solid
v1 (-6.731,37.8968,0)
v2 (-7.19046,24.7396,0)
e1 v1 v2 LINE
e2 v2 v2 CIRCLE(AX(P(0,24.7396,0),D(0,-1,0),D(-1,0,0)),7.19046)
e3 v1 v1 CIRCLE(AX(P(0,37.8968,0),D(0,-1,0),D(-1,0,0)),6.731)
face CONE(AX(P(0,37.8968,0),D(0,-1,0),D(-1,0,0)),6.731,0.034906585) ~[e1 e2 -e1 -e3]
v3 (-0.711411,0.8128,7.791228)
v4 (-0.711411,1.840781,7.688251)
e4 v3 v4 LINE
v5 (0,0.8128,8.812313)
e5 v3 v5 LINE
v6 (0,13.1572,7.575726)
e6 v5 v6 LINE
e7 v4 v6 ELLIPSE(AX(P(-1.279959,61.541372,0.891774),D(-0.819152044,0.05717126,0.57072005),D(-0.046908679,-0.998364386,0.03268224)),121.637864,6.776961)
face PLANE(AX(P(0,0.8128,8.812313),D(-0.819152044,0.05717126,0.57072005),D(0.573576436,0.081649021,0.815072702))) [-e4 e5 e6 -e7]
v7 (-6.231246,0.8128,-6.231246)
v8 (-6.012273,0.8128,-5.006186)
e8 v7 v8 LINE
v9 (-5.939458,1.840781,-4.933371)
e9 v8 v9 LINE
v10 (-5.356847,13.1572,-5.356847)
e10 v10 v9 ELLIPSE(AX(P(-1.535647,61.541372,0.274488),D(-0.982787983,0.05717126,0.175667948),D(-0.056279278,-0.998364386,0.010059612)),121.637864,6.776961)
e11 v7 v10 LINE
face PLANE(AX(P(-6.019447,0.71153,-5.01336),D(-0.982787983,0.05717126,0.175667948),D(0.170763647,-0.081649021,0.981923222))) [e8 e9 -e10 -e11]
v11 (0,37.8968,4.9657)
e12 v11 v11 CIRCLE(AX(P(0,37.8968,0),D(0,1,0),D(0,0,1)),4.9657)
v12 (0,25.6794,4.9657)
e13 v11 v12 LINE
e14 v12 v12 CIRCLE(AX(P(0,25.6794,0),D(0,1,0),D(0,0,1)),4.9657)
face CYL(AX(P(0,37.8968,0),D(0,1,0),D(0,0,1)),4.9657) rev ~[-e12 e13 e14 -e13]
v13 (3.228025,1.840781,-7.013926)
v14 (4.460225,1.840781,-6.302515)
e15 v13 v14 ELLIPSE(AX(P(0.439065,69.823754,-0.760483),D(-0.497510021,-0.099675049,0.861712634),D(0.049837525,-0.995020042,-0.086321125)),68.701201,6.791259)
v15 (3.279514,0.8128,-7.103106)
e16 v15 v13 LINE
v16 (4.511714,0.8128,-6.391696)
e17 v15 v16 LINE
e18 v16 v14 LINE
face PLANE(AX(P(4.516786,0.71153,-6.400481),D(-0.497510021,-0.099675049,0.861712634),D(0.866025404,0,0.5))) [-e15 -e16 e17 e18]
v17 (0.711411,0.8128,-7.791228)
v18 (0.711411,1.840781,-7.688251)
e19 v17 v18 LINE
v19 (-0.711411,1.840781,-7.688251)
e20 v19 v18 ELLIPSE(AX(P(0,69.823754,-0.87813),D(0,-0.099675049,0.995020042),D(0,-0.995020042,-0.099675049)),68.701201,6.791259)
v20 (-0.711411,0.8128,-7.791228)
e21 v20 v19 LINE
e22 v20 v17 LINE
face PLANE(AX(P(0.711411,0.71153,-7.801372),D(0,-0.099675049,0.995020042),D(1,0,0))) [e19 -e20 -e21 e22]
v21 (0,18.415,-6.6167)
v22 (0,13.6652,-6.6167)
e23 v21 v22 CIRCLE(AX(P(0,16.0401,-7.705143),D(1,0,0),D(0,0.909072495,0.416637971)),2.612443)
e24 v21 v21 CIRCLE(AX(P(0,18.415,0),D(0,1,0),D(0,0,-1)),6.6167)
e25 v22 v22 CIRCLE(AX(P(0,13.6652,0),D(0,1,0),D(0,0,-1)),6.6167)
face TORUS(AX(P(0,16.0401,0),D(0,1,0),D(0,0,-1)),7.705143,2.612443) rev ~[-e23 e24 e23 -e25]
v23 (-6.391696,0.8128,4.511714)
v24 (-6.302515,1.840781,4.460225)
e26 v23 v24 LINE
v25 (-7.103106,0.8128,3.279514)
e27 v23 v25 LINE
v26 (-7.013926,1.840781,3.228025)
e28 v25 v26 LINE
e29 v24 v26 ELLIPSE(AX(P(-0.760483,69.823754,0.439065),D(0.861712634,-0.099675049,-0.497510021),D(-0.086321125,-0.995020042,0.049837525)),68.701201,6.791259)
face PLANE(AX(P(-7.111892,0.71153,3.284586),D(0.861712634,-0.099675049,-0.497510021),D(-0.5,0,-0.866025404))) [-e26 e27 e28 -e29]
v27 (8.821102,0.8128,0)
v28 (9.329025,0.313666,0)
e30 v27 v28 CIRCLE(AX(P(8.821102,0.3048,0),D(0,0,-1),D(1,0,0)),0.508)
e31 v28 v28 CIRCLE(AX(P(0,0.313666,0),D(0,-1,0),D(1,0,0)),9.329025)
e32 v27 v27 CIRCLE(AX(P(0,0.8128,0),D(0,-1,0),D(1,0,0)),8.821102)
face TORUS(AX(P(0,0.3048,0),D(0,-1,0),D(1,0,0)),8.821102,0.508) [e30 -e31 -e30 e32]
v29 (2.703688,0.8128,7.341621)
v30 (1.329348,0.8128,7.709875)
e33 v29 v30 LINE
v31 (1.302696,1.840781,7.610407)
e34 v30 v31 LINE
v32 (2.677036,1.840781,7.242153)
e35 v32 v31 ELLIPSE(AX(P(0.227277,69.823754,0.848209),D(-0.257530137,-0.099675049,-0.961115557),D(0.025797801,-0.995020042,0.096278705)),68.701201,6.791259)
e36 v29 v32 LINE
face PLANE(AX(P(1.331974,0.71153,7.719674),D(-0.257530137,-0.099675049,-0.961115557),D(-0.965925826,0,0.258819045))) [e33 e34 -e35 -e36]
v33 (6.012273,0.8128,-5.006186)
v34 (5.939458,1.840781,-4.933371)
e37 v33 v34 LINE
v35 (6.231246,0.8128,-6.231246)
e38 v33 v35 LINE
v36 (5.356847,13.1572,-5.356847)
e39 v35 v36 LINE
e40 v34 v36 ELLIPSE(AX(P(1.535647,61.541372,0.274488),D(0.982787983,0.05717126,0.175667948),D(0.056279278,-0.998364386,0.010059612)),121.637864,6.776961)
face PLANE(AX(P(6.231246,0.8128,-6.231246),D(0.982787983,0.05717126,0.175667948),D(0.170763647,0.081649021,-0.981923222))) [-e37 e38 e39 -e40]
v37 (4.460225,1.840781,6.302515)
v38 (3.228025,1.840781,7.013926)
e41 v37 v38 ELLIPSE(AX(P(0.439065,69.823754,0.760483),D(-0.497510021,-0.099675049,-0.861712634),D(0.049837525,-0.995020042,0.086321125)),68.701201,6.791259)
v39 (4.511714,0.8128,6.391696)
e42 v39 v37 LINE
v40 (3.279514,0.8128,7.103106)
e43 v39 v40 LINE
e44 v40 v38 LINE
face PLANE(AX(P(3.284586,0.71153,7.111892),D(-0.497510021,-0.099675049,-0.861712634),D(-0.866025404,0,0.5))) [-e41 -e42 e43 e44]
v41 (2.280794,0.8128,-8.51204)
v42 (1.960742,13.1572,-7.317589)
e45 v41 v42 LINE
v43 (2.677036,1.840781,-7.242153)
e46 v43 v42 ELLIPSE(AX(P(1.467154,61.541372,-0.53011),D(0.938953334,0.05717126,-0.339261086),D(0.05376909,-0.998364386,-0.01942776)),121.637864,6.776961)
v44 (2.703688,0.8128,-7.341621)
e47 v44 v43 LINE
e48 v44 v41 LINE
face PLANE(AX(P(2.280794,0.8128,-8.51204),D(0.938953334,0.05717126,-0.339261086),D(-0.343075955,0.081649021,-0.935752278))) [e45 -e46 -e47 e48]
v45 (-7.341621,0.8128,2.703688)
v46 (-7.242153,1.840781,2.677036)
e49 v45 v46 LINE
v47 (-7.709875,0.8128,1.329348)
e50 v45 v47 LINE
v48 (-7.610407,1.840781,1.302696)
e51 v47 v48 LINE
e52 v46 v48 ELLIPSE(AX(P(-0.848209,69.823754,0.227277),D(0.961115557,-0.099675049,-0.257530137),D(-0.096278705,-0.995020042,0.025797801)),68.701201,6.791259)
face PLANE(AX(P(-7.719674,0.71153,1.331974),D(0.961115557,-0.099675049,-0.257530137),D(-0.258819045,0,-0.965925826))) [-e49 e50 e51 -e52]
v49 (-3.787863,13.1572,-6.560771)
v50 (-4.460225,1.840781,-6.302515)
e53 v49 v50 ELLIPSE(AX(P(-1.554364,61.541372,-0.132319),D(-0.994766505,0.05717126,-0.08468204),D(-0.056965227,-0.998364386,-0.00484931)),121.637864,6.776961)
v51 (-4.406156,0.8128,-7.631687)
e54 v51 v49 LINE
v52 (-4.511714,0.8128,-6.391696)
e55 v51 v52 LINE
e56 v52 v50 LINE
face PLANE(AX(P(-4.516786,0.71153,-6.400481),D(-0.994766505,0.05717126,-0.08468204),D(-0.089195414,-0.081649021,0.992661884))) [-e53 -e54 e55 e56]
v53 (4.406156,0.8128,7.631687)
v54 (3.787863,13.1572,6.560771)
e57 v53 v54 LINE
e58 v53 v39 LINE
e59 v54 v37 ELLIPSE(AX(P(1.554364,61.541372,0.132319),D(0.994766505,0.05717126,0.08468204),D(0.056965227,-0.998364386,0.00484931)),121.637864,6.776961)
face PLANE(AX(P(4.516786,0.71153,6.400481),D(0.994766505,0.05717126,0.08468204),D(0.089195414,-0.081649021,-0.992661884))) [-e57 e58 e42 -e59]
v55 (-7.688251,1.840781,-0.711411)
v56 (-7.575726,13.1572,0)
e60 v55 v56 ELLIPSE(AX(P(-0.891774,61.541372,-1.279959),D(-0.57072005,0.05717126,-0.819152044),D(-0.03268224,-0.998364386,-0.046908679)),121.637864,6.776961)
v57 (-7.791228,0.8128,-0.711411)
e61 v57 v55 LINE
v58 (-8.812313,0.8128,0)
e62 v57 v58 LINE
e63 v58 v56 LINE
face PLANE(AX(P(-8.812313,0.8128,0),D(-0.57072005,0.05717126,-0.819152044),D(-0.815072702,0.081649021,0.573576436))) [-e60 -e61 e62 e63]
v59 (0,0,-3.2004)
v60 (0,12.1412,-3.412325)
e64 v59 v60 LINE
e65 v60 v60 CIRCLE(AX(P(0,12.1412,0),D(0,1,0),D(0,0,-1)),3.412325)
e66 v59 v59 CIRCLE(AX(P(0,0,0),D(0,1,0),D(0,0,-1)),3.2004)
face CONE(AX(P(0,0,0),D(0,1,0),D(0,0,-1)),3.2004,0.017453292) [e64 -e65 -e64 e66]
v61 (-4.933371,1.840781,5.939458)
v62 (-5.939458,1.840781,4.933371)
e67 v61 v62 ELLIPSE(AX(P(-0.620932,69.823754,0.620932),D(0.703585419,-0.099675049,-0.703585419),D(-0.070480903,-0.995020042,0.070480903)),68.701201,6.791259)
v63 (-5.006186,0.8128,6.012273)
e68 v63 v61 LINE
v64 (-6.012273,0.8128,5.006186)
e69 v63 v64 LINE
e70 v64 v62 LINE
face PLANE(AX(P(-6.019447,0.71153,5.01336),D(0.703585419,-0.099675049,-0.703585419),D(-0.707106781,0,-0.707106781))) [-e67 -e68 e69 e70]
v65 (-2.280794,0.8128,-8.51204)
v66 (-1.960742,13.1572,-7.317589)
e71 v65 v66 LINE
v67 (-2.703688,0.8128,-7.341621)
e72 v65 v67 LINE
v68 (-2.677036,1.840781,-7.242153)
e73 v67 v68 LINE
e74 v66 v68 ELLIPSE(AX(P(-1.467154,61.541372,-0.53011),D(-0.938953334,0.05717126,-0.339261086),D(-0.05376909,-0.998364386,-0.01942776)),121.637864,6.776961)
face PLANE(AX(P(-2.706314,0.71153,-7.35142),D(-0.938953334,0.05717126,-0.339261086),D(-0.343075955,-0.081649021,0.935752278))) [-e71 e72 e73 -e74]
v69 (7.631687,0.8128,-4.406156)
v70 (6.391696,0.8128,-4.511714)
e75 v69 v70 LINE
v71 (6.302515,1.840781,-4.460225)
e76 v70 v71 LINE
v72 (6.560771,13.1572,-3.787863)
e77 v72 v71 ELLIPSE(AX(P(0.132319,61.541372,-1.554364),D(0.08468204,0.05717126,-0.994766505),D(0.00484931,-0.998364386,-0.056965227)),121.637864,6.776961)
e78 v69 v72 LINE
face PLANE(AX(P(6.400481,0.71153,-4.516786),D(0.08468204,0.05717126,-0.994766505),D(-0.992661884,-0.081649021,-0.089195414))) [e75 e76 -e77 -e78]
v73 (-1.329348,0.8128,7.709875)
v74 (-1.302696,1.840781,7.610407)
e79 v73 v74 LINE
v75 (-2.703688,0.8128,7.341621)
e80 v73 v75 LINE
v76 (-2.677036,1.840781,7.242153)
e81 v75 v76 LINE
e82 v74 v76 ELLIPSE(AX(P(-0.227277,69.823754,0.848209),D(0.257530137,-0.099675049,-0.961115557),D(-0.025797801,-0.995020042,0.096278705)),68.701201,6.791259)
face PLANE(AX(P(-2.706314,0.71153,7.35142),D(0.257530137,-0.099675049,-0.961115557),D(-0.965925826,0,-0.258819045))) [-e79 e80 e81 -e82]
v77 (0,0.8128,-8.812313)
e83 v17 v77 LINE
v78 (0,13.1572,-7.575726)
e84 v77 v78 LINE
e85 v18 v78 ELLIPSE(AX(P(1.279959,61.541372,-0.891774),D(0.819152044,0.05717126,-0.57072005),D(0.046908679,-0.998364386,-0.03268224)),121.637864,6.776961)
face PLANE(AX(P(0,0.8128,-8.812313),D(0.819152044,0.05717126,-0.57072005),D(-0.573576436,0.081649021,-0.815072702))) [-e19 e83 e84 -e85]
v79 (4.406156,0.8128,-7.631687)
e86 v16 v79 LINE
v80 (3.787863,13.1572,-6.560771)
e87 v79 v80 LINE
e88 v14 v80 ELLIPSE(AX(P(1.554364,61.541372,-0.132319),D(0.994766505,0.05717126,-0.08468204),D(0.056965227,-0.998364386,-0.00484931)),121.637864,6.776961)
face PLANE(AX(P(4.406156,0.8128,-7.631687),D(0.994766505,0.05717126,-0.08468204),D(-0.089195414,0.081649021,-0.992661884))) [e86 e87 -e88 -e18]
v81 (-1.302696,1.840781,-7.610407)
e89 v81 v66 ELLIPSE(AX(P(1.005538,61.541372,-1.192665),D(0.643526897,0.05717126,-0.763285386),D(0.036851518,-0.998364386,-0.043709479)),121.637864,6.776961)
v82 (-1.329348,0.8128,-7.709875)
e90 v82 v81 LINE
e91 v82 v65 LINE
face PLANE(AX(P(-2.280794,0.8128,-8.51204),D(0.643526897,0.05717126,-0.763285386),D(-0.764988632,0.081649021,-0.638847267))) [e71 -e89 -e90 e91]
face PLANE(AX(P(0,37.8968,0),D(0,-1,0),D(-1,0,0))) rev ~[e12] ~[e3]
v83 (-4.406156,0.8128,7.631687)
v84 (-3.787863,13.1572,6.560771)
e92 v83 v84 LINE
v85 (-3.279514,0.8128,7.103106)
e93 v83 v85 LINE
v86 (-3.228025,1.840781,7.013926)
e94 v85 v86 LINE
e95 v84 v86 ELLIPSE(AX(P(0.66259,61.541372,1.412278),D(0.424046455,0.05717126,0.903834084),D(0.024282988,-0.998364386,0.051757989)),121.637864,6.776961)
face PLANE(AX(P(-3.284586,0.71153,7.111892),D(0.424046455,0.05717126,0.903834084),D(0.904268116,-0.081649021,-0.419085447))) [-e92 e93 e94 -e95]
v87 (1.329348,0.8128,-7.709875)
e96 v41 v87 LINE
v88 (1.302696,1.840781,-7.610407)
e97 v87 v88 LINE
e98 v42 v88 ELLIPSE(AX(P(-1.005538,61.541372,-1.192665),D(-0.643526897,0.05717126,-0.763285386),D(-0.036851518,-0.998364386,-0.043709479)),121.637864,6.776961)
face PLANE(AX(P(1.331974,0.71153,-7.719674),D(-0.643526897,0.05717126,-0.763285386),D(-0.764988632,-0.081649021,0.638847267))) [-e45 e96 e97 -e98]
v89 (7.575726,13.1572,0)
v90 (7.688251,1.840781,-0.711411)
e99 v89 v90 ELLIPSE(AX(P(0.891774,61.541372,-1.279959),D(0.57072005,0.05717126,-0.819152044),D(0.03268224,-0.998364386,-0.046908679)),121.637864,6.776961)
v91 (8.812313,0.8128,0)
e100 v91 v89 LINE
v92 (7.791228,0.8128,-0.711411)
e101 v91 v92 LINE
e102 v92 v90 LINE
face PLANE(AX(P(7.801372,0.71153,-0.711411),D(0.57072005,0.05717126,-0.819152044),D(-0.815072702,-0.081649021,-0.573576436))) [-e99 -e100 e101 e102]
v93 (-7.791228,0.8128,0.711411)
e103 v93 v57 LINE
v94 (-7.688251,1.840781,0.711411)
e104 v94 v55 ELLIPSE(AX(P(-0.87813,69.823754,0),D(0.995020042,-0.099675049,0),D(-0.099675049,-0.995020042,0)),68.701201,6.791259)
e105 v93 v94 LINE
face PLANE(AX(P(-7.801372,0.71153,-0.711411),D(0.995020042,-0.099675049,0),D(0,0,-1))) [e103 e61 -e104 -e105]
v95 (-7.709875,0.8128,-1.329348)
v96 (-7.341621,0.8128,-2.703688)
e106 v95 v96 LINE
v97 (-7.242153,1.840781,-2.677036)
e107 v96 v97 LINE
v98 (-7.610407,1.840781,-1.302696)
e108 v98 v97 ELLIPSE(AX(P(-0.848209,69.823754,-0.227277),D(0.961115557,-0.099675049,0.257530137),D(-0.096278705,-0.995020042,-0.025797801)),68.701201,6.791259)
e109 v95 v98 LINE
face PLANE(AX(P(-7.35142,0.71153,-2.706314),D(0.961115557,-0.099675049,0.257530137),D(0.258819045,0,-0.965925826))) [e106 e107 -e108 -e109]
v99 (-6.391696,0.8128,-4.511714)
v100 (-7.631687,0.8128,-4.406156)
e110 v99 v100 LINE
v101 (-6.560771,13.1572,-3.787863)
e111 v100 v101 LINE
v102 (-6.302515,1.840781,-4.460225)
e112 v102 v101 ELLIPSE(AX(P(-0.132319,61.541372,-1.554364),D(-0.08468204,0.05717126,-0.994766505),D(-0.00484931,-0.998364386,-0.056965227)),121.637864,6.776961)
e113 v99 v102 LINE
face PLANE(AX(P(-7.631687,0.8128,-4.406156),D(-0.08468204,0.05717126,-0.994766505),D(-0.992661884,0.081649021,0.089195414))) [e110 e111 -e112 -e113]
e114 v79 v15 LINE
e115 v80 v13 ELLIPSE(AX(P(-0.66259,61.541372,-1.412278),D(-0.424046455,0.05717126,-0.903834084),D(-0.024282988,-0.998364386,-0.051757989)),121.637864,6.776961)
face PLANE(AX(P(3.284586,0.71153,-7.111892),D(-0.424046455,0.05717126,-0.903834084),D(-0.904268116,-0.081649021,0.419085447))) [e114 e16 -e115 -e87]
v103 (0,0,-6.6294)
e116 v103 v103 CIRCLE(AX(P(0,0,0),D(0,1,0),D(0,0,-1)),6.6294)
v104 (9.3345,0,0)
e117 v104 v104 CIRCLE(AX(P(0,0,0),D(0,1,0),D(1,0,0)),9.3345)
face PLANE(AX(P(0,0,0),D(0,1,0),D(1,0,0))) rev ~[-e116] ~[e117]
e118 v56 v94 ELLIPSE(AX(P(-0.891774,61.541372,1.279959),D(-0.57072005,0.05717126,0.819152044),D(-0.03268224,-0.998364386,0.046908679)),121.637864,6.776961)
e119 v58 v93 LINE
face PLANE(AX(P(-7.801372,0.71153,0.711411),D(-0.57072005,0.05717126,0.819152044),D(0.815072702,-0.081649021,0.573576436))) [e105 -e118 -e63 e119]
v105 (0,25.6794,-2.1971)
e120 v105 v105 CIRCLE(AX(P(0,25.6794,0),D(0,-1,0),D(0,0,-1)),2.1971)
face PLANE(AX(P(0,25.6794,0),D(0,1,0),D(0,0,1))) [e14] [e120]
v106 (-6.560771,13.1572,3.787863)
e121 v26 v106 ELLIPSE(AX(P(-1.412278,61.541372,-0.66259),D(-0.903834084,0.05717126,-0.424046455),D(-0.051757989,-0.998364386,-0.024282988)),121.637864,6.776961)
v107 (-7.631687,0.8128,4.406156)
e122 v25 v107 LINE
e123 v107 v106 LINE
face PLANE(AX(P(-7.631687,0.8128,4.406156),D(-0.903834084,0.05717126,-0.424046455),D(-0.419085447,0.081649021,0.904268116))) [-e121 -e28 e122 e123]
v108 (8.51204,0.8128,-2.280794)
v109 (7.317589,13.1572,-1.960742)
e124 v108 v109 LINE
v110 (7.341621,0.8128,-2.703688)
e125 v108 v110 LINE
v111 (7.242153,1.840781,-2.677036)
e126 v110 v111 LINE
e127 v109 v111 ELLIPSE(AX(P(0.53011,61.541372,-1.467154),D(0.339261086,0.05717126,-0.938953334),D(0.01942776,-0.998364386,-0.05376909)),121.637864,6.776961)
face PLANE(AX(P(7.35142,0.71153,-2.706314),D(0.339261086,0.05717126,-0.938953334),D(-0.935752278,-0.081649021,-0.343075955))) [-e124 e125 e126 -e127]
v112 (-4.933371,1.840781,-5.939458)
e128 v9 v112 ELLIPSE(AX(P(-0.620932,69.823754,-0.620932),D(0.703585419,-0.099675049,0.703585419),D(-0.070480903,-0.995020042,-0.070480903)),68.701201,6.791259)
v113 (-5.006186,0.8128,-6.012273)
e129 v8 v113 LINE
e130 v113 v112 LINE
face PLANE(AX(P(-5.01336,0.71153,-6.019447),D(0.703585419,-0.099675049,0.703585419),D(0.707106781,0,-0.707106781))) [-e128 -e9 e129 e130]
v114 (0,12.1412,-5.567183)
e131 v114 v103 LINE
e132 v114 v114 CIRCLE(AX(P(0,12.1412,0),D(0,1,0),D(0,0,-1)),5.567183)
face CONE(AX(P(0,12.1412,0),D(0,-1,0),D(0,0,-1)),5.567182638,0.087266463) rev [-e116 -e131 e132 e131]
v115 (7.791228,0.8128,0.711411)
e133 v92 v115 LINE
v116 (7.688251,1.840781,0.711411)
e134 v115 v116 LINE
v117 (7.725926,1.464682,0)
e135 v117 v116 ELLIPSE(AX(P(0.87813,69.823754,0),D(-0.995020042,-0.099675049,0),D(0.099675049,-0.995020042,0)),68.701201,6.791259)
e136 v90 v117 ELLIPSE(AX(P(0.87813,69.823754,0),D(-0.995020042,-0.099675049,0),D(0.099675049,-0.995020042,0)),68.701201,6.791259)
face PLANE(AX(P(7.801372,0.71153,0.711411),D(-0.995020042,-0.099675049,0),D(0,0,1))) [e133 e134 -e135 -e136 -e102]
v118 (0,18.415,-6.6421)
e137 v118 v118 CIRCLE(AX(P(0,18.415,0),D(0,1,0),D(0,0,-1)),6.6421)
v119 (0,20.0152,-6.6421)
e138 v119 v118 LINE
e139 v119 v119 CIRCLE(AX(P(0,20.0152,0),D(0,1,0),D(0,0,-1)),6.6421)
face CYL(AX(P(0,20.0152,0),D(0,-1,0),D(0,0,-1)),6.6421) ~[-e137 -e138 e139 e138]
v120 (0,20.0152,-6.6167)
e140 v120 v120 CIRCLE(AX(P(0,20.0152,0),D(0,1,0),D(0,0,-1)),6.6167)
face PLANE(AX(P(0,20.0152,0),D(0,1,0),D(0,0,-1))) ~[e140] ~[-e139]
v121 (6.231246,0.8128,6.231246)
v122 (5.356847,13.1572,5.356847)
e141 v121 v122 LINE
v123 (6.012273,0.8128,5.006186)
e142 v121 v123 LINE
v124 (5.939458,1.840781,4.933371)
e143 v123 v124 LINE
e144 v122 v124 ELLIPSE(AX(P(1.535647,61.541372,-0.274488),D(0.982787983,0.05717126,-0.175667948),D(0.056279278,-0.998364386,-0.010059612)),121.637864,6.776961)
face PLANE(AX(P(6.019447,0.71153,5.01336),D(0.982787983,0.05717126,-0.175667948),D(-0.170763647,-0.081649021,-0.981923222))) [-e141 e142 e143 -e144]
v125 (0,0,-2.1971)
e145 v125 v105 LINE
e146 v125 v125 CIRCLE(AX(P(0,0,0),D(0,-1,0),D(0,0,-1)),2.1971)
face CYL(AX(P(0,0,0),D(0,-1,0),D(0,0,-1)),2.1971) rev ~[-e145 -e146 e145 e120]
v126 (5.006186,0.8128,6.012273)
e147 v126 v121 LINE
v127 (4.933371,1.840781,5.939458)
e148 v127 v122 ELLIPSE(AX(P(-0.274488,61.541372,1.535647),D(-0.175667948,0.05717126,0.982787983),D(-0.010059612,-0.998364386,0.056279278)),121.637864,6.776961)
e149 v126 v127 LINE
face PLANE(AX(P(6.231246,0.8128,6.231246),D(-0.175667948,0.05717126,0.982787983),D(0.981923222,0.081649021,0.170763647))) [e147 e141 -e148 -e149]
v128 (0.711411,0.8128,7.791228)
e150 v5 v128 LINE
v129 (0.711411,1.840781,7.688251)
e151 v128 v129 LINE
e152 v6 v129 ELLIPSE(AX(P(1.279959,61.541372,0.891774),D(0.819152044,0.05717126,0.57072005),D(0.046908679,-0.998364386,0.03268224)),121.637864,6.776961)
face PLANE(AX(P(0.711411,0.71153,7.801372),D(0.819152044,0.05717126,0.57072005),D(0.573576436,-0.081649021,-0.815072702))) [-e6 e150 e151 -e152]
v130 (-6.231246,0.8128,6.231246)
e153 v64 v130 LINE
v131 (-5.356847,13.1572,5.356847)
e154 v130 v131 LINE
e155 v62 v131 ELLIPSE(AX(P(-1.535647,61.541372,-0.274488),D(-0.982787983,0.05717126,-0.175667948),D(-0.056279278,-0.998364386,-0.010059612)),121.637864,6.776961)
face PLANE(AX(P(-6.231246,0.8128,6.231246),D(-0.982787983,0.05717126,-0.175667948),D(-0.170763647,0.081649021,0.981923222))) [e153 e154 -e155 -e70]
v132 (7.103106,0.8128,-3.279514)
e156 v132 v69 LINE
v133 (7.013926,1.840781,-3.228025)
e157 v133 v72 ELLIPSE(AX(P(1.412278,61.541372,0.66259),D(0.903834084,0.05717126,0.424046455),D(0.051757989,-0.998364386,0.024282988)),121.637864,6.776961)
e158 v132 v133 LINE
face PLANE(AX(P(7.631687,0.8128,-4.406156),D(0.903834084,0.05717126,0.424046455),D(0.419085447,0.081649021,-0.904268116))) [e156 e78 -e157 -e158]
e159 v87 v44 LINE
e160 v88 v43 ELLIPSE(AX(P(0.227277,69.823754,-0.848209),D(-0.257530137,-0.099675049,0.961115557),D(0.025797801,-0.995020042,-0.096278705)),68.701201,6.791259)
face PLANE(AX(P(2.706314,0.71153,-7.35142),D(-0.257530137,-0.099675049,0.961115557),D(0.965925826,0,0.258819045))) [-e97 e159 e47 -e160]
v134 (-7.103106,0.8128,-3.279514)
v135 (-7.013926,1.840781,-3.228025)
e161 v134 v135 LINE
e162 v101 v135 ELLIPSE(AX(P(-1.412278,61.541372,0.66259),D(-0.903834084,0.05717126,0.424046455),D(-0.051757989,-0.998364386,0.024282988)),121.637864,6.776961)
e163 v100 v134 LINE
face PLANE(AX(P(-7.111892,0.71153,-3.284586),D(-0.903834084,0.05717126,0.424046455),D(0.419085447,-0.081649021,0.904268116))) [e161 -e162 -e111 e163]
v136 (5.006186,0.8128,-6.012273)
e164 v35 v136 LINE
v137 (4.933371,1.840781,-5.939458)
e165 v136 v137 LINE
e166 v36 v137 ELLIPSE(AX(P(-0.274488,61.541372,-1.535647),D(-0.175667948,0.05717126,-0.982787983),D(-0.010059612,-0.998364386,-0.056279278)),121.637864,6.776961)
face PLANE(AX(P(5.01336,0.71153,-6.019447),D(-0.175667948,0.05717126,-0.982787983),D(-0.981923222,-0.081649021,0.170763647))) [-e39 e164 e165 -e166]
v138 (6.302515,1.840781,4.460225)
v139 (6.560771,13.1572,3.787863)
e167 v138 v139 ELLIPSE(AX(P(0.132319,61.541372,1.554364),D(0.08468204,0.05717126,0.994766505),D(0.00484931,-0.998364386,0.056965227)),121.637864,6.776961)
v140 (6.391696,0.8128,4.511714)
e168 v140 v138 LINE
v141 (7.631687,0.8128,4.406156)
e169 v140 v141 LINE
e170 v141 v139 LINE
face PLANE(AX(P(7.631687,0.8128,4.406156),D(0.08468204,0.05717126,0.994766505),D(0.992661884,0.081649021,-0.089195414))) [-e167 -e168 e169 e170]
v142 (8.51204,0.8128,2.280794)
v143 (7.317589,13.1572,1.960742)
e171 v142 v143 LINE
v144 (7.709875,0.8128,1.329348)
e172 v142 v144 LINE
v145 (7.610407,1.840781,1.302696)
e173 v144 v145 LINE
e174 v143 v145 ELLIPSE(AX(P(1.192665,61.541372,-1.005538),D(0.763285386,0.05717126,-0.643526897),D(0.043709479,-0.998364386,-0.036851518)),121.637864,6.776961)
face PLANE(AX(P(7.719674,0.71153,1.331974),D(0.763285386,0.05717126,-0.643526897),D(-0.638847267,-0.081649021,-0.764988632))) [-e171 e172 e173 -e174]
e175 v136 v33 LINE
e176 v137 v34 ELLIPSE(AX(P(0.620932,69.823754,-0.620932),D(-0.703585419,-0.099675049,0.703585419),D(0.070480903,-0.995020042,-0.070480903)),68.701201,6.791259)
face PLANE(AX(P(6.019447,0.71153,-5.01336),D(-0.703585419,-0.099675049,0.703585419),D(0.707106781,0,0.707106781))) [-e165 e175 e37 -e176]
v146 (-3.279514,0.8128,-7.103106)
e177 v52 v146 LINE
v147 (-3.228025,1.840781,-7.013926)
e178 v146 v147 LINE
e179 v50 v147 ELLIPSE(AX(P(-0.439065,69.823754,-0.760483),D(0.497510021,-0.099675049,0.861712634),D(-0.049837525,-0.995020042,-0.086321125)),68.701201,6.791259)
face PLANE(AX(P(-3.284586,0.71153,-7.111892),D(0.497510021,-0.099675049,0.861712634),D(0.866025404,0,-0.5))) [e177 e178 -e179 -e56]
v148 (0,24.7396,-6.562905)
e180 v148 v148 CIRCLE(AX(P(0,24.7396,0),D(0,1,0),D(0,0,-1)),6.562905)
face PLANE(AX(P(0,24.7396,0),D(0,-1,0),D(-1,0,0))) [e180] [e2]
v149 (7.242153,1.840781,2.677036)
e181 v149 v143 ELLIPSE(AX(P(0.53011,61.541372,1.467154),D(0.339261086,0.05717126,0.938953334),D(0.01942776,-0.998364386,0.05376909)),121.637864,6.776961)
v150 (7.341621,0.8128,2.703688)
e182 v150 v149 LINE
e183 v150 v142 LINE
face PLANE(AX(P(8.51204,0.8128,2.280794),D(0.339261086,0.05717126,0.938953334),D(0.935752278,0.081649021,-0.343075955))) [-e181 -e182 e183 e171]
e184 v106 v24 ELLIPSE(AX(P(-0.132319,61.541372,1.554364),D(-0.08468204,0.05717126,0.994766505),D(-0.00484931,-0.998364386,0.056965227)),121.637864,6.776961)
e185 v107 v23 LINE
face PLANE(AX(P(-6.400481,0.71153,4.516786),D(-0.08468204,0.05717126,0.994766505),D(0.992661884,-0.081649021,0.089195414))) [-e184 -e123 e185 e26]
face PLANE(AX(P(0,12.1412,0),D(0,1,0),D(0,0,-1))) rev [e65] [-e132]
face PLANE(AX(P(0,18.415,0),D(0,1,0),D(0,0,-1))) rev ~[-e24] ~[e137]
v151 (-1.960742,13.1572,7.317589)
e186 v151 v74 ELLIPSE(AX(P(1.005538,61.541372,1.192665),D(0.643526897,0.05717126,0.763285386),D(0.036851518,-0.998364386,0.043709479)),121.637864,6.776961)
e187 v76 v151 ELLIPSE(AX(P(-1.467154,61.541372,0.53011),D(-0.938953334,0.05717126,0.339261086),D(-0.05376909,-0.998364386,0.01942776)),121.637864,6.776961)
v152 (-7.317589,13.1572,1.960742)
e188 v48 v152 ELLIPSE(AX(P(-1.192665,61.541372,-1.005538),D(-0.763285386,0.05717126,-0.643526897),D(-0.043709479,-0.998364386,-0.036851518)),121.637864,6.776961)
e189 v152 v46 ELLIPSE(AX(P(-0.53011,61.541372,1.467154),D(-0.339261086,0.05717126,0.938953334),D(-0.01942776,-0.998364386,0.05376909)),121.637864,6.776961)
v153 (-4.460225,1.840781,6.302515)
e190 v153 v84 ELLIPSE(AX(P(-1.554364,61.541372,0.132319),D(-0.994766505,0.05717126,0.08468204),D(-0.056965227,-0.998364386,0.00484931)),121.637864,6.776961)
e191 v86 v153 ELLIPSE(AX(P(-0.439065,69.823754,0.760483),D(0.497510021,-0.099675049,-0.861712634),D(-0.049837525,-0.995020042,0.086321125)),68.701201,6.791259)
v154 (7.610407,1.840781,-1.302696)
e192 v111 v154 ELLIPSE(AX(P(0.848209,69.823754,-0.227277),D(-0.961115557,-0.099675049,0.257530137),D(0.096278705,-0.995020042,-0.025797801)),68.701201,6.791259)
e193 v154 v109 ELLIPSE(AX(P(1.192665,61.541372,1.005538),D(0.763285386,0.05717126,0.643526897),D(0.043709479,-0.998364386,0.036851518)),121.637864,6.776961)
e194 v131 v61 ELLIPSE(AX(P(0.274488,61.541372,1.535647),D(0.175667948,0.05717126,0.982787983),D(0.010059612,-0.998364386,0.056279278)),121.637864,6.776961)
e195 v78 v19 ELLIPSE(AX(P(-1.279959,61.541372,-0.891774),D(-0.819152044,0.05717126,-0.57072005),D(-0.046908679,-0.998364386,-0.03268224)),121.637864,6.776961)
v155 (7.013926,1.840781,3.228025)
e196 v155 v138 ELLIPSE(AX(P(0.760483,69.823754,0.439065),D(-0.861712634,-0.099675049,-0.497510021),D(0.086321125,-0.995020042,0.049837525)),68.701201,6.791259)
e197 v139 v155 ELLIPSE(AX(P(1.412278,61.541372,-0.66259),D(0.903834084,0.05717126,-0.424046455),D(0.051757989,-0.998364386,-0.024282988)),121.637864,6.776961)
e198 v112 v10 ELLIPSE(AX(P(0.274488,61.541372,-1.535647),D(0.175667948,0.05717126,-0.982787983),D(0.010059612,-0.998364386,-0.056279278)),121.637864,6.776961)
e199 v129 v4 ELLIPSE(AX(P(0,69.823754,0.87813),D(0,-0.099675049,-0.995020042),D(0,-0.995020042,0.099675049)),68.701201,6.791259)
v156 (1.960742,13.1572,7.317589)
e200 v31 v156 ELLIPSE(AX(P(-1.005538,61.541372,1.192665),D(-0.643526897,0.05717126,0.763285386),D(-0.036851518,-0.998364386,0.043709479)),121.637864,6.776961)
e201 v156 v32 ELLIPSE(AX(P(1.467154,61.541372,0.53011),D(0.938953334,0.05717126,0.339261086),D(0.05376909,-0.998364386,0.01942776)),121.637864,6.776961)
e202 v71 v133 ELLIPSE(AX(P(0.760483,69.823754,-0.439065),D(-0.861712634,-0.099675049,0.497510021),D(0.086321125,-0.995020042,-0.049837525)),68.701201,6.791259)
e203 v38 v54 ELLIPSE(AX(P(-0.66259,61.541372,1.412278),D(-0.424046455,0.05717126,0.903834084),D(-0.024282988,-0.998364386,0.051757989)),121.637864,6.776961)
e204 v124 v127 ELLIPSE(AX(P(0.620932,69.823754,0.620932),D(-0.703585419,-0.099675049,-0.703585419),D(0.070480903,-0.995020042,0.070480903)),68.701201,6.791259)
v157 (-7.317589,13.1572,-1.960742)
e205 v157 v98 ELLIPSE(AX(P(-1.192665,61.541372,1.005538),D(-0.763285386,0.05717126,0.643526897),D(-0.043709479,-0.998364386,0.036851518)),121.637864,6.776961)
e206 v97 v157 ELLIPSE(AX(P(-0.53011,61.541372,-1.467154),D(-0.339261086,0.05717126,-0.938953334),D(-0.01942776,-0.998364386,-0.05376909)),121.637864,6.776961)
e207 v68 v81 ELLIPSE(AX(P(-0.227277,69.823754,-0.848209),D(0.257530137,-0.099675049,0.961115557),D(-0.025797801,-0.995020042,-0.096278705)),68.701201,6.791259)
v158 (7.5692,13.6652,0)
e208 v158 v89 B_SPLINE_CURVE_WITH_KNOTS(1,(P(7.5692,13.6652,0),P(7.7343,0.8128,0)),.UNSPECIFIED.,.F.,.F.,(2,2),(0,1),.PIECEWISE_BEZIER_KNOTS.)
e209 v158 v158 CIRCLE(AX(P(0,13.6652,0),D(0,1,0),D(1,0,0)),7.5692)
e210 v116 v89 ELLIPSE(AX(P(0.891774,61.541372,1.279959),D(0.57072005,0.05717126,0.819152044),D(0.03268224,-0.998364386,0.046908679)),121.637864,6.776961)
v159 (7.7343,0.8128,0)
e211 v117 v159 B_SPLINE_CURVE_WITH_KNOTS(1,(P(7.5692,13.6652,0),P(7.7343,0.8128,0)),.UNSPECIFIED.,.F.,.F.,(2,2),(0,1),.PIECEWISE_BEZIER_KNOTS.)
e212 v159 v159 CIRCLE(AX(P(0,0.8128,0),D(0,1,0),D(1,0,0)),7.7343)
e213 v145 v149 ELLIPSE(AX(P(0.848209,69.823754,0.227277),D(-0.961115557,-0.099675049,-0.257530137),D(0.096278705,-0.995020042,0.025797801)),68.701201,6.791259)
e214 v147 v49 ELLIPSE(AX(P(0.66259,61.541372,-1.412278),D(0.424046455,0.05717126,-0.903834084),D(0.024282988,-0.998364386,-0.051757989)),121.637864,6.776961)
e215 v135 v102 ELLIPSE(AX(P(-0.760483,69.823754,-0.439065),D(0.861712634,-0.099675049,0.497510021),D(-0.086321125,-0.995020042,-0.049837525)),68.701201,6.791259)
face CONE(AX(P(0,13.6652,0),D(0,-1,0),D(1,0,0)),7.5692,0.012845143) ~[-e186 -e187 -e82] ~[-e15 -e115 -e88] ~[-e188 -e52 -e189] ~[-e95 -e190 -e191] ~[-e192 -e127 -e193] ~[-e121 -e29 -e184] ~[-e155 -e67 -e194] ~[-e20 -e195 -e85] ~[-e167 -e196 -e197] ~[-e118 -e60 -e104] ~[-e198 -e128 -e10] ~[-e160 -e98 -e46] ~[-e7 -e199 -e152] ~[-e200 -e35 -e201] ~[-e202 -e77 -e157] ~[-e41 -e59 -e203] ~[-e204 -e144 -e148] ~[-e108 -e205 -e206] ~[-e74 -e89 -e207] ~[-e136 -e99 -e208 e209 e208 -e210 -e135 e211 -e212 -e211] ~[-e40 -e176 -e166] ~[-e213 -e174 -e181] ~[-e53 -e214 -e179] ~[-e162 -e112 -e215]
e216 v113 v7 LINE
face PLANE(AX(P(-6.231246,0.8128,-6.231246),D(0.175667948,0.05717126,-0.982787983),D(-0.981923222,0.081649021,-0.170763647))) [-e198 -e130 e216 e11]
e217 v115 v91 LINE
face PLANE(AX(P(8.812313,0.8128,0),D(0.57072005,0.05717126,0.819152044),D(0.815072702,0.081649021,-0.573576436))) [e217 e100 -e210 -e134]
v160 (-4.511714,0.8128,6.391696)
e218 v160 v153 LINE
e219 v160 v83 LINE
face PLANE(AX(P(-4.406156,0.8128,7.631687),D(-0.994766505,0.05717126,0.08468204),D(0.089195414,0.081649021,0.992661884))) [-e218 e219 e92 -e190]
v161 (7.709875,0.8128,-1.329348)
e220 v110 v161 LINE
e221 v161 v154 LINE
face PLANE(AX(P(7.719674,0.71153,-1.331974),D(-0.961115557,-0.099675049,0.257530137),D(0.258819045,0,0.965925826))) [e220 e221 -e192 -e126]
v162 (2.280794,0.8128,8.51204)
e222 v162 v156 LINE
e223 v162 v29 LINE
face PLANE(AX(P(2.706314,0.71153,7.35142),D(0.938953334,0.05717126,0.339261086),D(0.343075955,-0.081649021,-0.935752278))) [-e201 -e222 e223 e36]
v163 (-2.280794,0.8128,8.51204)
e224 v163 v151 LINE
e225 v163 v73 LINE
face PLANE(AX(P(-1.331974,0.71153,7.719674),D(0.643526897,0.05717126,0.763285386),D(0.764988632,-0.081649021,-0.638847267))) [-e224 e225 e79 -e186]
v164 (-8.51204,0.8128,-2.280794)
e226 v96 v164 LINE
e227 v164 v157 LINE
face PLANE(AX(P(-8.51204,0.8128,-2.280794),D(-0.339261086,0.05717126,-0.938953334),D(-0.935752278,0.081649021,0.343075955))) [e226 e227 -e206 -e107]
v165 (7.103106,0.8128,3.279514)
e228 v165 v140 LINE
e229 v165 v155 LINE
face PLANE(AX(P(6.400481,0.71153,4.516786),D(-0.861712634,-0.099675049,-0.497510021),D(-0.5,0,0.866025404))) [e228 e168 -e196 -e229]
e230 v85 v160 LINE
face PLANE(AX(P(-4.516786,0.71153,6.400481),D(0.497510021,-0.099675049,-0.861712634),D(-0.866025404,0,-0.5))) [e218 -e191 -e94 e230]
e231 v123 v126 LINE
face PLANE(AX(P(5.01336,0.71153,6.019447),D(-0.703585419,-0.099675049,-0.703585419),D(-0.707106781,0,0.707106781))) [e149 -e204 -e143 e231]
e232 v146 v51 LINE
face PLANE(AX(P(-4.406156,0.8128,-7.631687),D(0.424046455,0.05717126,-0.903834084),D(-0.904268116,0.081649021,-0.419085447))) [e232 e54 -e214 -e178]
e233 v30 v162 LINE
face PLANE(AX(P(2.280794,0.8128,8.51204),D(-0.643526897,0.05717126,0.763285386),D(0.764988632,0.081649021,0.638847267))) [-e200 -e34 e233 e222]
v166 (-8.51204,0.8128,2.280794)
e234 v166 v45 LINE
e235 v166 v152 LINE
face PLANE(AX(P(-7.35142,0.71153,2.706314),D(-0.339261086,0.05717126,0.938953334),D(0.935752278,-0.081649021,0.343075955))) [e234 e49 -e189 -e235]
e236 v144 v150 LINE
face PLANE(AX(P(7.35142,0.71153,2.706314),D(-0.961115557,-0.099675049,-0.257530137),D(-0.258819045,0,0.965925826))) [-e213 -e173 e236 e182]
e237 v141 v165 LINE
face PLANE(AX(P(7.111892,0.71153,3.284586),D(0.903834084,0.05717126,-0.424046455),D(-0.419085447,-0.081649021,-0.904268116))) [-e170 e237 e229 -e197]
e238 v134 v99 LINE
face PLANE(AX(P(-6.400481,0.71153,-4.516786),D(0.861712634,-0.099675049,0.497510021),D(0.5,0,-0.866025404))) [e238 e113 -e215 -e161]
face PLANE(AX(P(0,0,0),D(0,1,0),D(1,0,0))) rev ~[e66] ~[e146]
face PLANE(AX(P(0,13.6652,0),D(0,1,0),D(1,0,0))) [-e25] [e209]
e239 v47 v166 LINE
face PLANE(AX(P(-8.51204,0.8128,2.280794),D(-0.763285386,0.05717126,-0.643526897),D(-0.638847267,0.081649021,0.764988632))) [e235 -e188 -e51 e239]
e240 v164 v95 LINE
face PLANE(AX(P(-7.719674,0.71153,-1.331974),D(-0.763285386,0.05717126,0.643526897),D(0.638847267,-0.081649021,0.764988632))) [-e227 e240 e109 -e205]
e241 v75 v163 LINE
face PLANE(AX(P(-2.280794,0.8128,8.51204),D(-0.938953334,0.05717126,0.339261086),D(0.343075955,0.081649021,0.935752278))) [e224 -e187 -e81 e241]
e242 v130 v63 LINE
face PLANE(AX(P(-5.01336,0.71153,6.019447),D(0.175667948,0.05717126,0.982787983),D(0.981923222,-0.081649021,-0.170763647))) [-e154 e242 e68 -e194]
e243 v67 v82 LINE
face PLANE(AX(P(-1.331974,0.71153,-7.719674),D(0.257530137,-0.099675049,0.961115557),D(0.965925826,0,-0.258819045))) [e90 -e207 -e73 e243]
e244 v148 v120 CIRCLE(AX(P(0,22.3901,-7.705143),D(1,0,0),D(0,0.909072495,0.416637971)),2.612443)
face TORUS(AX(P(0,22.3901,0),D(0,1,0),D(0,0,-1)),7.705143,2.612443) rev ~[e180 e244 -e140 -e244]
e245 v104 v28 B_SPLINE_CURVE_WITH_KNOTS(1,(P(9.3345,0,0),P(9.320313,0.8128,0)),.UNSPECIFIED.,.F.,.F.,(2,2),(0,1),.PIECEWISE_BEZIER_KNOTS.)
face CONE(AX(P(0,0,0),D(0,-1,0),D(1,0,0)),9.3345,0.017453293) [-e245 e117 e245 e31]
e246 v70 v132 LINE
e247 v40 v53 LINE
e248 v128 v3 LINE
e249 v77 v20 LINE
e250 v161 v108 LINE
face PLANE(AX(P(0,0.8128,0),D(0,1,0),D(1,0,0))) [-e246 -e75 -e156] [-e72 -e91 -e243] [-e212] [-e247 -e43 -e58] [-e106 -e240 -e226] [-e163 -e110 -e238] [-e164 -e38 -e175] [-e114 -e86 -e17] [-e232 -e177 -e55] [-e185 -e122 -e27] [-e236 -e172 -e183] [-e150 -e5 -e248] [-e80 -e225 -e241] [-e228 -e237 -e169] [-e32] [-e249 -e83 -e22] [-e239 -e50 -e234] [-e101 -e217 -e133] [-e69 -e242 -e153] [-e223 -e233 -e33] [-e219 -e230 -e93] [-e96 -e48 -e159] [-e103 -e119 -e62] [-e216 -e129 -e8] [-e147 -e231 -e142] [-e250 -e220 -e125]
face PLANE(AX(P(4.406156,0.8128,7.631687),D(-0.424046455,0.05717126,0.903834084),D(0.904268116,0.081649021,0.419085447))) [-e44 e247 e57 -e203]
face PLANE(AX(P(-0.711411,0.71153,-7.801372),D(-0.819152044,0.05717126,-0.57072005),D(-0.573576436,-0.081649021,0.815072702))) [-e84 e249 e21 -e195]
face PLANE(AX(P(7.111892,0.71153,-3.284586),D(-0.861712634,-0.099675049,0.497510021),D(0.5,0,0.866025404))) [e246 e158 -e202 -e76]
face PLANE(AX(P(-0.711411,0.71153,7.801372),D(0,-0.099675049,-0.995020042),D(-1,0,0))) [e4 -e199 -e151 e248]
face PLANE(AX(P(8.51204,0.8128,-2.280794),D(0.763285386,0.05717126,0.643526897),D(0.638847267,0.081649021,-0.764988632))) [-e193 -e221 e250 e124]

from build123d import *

# Parameters (mm, degrees)
SKETCH1_R           = 9.3345
BOSS_EXTRUDE1_DEPTH = 0.8128
BOSS_EXTRUDE1_TAPER = 1
SKETCH2_R           = 7.5692
SKETCH3_R           = 7.7343
CIRPATTERN3_COUNT   = 24
FILLET1_R           = 0.508
SKETCH20_R          = 6.731
BOSS_EXTRUDE2_DEPTH = 13.1572
BOSS_EXTRUDE2_DRAFT = -2
SKETCH21_R          = 4.9657
CUT_EXTRUDE1_DEPTH  = 12.2174
SKETCH22_R          = 2.1971
CUT_EXTRUDE2_DEPTH  = 38.8968


with BuildPart() as part:
    # Sketch1 → Boss-Extrude1 (new body)
    with BuildSketch(Plane(origin=(0, 0, 0), x_dir=(1, 0, 0), z_dir=(0, 1, 0))):
        Circle(SKETCH1_R)
    extrude(amount=BOSS_EXTRUDE1_DEPTH, taper=BOSS_EXTRUDE1_TAPER)

    # Sketch2 → Loft1 section 0
    with BuildSketch(Plane(origin=(0, 13.6652, 0), x_dir=(1, 0, 0), z_dir=(0, 1, 0))):
        Circle(SKETCH2_R)
    # Sketch3 → Loft1 section 1
    with BuildSketch(Plane(origin=(0, 0.8128, 0), x_dir=(1, 0, 0), z_dir=(0, 1, 0))):
        Circle(SKETCH3_R)
    loft()

    # Sweep1: sweep along a path in Sketch4
    with BuildLine(Plane(origin=(0, 0, 0), x_dir=(0, 0, -1), z_dir=(1, 0, 0))) as sweep1_path:
        Line((-8.812312523, 0.8128), (-7.575725692, 13.1572))
    # Sketch14 → Sweep1 (sweep)
    with BuildSketch(Plane(origin=(0, 0.8128, 8.812312523), x_dir=(1, 0, 0), z_dir=(0, 0.995020042, -0.09967505))):
        Polygon((0, 0), (-0.711410859, 1.016), (0.711410859, 1.016), align=None)
    sweep1 = sweep(path=sweep1_path.line)

    # CirPattern3: Sweep1 ×24 about axis
    cirpattern3_axis = Axis((0, 0, 0), (0, 1, 0))
    for i in range(1, CIRPATTERN3_COUNT):
        add(sweep1.rotate(cirpattern3_axis, i * 360 / CIRPATTERN3_COUNT))

    # Sketch7 → Revolve1 (revolve)
    with BuildSketch(Plane(origin=(0, 0, 0), x_dir=(0, 0, -1), z_dir=(1, 0, 0))):
        with BuildLine():
            Line((6.6421, 18.415), (6.6167, 18.415))
            ThreePointArc((6.6167, 18.415), (5.0927, 16.0401), (6.6167, 13.6652))
            Line((6.6167, 13.6652), (0, 13.6652))
            Line((0, 13.6652), (0, 26.2128))
            Line((0, 26.2128), (6.6167, 26.2128))
            Line((6.6167, 26.2128), (6.6167, 24.765))
            ThreePointArc((6.6167, 24.765), (5.0927, 22.3901), (6.6167, 20.0152))
            Line((6.6167, 20.0152), (6.6421, 20.0152))
            Line((6.6421, 20.0152), (6.6421, 18.415))
        make_face()
    revolve(axis=Axis((0, 13.6652, 0), (0, 1, 0)))

    # Sketch19 → Cut-Revolve1 (revolve, cut)
    with BuildSketch(Plane(origin=(0, 0, 0), x_dir=(0, 0, -1), z_dir=(1, 0, 0))):
        Polygon((3.2004, 0), (3.412325434, 12.1412), (5.567182638, 12.1412), (6.6294, 0), (6.6294, -2.54), (3.2004, -2.54), align=None)
    revolve(axis=Axis((0, 0, 0), (0, 1, 0)), mode=Mode.SUBTRACT)

    # Fillet1
    fillet1_edges = [part.edges().sort_by_distance(p)[0] for p in [
        (-9.320312523, 0.8128, 0),
    ]]
    fillet(fillet1_edges, radius=FILLET1_R)


with BuildPart() as boss_extrude2_tool:
    # Sketch20 → Boss-Extrude2 (with draft: the straight prism first)
    with BuildSketch(Plane(origin=(0, 37.8968, 0), x_dir=(-1, 0, 0), z_dir=(0, -1, 0))):
        Circle(SKETCH20_R)
    extrude(amount=BOSS_EXTRUDE2_DEPTH)
    # Boss-Extrude2: the draft: its side faces are tilted about the plane it starts from
    boss_extrude2_sides = [boss_extrude2_tool.faces().sort_by_distance(p)[0] for p in [
        (6.731, 31.3182, 0),
    ]]
    draft(boss_extrude2_sides, Plane(origin=(0, 37.8968, 0), x_dir=(-1, 0, 0), z_dir=(0, -1, 0)), BOSS_EXTRUDE2_DRAFT)


with BuildPart() as part_1:
    add(part.part)

    # Boss-Extrude2: add boss_extrude2_tool
    add(boss_extrude2_tool.part)

    # Sketch21 → Cut-Extrude1 (cut)
    with BuildSketch(Plane(origin=(0, 37.8968, 0), x_dir=(1, 0, 0), z_dir=(0, 1, 0))):
        with Locations(Location((0, 0, 0), (0, 0, 270))):  # turned: the seam where the file's is
            Circle(SKETCH21_R)
    extrude(amount=-CUT_EXTRUDE1_DEPTH, mode=Mode.SUBTRACT)

    # Sketch22 → Cut-Extrude2 (cut, through all)
    with BuildSketch(Plane.XZ):
        with Locations(Location((0, 0, 0), (0, 0, 270))):  # turned: the seam where the file's is
            Circle(SKETCH22_R)
    extrude(amount=-CUT_EXTRUDE2_DEPTH, mode=Mode.SUBTRACT)


solid = part_1.part
